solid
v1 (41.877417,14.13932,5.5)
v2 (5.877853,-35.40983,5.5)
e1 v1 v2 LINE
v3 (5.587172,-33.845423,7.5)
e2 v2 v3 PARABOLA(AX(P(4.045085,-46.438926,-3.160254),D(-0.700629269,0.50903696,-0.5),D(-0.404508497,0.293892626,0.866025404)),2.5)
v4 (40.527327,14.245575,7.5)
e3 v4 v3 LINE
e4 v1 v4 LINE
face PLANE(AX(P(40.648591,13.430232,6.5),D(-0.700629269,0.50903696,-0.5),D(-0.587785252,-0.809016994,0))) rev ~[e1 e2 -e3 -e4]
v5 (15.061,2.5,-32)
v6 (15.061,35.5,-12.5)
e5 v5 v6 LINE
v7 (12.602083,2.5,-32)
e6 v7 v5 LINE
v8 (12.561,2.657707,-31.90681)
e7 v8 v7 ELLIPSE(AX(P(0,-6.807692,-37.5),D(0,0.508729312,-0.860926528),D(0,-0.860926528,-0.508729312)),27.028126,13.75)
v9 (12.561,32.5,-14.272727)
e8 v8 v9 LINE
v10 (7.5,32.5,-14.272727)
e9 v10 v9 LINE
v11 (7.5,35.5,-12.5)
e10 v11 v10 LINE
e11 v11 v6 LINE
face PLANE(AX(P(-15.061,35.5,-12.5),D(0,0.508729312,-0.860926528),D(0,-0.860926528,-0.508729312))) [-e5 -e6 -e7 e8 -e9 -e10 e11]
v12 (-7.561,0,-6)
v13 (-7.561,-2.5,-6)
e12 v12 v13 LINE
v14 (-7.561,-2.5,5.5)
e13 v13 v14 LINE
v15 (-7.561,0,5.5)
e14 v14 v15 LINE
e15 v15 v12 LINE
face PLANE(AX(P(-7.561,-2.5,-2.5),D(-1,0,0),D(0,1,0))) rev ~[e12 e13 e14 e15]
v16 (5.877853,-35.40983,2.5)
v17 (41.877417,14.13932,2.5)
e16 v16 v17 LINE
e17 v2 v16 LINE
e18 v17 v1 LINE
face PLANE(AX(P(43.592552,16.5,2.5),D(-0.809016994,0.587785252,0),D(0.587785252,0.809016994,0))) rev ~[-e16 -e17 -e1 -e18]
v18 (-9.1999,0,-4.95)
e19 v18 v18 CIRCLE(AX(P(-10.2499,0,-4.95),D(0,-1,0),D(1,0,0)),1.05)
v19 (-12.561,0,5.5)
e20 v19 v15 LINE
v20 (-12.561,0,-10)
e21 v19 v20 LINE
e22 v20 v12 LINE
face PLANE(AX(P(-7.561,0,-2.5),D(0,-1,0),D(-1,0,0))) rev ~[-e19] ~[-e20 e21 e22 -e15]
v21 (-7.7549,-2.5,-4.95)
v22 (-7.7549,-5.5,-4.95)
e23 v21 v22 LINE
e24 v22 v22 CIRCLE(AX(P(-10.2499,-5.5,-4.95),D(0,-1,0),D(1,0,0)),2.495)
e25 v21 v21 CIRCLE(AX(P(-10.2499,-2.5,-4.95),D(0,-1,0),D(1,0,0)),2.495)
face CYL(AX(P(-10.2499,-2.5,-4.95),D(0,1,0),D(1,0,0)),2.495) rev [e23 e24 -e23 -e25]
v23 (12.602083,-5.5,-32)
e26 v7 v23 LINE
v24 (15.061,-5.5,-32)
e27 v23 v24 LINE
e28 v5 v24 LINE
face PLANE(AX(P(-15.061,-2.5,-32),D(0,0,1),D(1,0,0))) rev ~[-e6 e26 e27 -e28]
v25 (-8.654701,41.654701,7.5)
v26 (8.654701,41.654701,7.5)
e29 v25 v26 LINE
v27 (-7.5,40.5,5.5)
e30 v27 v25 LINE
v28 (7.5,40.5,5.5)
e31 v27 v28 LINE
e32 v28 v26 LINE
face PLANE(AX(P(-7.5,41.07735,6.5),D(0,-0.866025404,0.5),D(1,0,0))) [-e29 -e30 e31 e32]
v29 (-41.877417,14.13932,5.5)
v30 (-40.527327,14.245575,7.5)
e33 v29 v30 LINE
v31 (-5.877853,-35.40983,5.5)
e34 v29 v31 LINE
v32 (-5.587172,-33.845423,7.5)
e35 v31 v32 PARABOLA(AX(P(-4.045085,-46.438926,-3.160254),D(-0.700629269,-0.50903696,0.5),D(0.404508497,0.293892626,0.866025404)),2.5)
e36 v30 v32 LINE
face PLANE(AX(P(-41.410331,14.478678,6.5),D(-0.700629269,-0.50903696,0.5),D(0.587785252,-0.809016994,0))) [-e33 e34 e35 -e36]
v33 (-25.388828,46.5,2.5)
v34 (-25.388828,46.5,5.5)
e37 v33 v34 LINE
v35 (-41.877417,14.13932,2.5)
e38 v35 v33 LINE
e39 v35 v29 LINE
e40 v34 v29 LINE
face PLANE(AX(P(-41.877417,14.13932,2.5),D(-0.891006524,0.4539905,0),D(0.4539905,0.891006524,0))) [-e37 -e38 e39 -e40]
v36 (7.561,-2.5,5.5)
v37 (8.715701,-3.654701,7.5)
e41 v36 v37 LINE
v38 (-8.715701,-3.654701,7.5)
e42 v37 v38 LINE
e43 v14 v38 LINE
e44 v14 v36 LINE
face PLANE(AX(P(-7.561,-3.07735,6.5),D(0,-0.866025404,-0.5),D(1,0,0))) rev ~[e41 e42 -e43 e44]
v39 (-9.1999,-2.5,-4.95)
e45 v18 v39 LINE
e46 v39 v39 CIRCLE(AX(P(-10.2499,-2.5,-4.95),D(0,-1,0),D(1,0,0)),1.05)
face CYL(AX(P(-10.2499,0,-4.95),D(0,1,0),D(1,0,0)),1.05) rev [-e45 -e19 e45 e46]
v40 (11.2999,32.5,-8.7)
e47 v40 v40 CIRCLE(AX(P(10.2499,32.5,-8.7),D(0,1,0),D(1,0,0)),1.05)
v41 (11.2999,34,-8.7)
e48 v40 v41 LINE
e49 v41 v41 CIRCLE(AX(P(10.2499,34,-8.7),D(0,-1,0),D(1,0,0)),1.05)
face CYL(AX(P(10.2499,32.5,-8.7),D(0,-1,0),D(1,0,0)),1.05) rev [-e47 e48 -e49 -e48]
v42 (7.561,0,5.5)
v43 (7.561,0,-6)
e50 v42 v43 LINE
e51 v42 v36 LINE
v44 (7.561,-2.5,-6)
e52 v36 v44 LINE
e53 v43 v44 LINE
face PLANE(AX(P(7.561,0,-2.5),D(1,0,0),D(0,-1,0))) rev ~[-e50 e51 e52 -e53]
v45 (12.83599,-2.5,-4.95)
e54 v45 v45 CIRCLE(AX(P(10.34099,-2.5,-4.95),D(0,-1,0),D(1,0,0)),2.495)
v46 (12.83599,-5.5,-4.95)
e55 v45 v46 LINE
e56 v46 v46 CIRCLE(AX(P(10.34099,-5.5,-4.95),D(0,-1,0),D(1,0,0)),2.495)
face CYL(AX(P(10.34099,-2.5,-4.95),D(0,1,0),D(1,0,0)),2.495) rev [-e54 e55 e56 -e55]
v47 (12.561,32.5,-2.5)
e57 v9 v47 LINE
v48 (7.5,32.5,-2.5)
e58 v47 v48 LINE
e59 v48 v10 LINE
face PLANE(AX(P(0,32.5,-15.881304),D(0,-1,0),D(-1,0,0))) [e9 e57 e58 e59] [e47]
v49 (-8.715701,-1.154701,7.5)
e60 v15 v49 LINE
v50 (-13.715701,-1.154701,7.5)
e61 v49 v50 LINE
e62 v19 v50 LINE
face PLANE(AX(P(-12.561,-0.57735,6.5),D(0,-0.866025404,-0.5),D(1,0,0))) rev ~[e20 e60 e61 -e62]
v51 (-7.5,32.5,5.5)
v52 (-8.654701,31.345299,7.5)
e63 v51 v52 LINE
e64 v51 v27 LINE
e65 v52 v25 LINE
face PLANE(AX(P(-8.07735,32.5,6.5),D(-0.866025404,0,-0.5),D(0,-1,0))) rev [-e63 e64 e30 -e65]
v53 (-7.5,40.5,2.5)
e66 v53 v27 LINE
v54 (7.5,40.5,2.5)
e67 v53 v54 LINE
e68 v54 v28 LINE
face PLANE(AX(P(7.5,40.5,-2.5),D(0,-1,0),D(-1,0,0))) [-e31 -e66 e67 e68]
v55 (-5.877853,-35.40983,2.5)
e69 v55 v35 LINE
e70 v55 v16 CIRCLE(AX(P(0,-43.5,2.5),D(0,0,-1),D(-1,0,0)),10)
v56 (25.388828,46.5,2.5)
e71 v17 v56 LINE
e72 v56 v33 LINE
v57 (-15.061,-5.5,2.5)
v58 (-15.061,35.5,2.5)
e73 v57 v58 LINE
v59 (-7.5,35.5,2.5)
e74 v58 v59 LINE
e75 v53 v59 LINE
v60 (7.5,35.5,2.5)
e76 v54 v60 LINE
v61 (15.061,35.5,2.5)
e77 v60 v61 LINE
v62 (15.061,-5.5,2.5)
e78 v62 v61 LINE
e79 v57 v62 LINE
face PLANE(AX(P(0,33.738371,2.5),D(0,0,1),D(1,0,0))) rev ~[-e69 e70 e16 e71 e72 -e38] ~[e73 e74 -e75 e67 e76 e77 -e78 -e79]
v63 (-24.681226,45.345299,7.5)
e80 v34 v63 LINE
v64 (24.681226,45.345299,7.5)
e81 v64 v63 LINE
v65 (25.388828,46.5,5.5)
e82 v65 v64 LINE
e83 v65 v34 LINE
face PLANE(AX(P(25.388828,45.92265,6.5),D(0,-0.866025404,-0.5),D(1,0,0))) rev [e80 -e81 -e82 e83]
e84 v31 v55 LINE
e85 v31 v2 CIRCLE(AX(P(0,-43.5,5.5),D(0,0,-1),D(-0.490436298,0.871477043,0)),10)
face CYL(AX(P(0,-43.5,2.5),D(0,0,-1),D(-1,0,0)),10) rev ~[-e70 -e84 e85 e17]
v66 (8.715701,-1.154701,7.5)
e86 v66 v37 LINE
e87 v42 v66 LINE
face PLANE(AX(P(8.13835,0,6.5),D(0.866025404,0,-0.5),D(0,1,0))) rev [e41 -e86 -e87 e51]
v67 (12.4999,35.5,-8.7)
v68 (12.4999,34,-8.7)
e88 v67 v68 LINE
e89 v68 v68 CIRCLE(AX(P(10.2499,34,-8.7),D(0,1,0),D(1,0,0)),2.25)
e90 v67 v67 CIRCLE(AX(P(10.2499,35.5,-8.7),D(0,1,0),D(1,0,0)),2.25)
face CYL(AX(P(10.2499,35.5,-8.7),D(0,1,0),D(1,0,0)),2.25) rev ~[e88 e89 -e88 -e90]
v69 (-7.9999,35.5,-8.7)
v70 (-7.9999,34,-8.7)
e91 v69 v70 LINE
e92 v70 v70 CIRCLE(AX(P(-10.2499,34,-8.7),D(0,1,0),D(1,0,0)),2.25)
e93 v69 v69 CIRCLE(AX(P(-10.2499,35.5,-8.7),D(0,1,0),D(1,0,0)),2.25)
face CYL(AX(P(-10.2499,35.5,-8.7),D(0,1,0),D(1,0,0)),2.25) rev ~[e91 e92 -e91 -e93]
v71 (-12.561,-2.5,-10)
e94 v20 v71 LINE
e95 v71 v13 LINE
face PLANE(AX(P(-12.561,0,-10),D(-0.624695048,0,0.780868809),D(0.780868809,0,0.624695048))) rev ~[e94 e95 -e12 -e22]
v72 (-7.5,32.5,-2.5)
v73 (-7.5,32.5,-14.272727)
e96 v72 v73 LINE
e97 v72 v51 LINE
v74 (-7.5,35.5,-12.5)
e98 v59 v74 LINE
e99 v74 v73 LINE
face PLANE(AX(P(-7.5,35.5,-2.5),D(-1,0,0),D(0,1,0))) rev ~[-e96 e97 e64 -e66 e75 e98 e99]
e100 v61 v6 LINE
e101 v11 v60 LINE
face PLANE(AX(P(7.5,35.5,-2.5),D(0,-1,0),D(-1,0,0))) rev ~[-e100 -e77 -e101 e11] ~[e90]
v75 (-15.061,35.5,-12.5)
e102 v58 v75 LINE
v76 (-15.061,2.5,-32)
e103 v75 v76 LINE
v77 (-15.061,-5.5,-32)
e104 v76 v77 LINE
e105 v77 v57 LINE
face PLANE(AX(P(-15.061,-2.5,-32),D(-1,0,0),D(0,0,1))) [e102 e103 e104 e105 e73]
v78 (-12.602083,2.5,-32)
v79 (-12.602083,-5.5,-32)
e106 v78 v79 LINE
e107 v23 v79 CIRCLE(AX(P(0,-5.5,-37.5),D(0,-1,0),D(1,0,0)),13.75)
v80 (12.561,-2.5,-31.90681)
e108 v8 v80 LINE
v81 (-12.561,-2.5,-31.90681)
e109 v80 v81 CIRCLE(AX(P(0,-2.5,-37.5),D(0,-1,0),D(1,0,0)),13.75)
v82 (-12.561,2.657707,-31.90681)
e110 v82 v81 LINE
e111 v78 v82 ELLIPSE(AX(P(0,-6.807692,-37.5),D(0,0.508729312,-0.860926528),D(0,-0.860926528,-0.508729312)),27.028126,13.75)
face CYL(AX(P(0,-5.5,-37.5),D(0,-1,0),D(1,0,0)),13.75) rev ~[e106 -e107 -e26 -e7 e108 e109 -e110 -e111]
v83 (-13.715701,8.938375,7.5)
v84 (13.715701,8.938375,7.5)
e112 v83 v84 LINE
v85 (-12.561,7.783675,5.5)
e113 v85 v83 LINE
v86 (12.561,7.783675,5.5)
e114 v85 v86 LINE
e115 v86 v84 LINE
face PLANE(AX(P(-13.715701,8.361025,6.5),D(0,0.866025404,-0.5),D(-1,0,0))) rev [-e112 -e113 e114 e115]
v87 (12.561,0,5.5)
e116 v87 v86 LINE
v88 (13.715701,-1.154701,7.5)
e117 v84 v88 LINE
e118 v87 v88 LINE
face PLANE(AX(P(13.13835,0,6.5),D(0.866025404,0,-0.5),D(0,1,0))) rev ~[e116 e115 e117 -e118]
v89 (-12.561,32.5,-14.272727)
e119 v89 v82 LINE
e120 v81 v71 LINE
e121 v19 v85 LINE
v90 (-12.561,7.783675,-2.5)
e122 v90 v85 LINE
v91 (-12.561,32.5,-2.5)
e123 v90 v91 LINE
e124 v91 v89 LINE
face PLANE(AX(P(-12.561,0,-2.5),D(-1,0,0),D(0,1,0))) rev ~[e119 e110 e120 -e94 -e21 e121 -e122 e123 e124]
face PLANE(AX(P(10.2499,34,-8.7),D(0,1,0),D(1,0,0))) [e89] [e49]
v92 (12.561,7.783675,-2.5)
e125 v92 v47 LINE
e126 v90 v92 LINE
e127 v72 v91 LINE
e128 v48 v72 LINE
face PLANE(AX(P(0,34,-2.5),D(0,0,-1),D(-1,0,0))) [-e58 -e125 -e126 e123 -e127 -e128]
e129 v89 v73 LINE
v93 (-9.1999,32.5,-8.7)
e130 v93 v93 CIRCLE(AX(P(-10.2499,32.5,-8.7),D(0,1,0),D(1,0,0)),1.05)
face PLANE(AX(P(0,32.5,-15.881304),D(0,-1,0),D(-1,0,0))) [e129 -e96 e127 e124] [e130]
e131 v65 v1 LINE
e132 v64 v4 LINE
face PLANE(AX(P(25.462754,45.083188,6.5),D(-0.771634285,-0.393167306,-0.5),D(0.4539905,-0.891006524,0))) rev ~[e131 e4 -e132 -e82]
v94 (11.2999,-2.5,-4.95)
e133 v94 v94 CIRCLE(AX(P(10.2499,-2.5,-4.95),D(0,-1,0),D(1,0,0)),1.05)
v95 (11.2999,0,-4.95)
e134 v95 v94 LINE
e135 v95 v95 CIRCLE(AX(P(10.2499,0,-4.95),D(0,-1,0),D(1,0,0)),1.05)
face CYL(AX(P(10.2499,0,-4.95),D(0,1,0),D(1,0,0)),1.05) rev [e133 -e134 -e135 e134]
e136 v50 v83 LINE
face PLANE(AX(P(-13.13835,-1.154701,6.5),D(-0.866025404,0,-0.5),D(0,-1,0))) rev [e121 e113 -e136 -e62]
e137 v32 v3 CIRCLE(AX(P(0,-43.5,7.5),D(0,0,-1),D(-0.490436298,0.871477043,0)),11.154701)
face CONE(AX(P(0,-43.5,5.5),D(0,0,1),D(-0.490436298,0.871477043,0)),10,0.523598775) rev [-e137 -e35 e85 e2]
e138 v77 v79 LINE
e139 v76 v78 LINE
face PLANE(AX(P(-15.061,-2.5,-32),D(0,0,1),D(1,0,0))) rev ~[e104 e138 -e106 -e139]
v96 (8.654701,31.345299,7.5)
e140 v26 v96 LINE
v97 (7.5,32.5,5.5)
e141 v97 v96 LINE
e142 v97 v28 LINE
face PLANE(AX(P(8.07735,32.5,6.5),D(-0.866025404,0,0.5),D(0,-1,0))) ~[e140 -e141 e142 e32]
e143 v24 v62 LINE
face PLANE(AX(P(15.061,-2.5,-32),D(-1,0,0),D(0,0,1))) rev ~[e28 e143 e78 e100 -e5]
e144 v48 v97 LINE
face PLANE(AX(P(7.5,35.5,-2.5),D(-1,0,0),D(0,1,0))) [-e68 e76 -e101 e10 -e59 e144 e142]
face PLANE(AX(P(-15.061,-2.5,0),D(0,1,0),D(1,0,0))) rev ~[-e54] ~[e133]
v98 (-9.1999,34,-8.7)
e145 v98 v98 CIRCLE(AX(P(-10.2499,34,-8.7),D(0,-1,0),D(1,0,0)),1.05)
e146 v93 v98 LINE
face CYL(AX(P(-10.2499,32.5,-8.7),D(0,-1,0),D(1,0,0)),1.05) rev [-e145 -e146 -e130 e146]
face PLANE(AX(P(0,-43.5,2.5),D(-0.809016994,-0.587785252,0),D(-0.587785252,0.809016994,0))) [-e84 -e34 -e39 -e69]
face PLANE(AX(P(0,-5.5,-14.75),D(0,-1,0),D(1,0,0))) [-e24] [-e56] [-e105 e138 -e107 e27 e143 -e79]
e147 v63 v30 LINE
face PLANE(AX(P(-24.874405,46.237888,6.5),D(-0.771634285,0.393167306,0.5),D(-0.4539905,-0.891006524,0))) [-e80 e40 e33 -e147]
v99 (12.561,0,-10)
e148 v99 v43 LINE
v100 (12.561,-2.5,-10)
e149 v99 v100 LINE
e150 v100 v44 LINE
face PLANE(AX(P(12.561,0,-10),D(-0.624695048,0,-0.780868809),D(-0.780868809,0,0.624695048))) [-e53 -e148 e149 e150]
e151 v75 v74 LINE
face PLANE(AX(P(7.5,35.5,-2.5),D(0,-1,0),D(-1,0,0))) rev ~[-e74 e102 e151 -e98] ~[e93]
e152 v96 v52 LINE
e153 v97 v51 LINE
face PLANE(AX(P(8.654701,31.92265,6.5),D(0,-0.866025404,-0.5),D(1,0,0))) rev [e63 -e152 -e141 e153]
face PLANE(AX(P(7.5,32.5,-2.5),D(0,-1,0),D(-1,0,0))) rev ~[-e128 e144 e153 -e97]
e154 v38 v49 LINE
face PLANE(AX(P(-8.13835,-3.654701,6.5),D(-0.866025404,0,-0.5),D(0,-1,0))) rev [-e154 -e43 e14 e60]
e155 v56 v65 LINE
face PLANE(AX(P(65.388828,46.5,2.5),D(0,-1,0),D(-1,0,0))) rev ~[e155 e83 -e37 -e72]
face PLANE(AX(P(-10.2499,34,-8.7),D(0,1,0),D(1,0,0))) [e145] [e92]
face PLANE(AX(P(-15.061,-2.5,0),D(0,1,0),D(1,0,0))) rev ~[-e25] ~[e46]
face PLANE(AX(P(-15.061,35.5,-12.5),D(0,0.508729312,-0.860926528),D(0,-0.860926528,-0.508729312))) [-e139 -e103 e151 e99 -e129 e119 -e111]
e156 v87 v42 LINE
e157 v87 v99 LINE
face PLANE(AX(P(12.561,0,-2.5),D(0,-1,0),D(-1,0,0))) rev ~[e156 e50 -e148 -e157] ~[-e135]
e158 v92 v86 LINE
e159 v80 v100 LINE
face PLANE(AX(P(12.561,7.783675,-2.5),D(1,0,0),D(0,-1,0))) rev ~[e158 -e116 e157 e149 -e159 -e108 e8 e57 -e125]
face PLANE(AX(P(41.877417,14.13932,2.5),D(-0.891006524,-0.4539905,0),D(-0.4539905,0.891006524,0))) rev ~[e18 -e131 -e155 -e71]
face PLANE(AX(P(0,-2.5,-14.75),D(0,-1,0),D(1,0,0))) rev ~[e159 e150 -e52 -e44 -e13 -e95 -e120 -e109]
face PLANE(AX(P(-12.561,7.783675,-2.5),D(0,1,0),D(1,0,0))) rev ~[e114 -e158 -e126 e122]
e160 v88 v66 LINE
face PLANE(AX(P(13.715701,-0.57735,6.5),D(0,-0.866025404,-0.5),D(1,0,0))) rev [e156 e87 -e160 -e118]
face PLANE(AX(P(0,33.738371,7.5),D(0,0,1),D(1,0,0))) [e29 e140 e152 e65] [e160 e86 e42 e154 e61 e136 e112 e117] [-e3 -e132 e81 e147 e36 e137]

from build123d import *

# Parameters (mm, degrees)
BOSS_EXTRUDE1_DEPTH     = 32.5
SKETCH4_R               = 1.05
BOSS_EXTRUDE2_DEPTH     = 2.5
SKETCH5_R               = 1.05
BOSS_EXTRUDE3_DEPTH     = 3
CUT_EXTRUDE1_DEPTH      = 31.122
SKETCH13_W              = 30.122
SKETCH13_H              = 38
BOSS_EXTRUDE7_DEPTH     = 2.5
BOSS_EXTRUDE4_DEPTH     = 5
BOSS_EXTRUDE6_DEPTH     = 5
CUT_EXTRUDE2_DEPTH      = 6
SKETCH14_W              = 15
SKETCH14_H              = 5
CUT_EXTRUDE3_DEPTH      = 11
SKETCH15_W              = 30.122
SKETCH15_H              = 34.5
SKETCH15_R              = 2.495
BOSS_EXTRUDE8_DEPTH     = 3
SKETCH17_R              = 13.75
CUT_EXTRUDE4_DEPTH      = 53
SKETCH19_W              = 15
SKETCH19_H              = 3
CUT_EXTRUDE6_DEPTH      = 30.5
CUT_EXTRUDE6_DEPTH_BACK = 11
SKETCH21_R              = 2.25
CUT_EXTRUDE8_DEPTH      = 1.5
SKETCH20_R              = 10
CUT_EXTRUDE7_DEPTH      = 6
CHAMFER1_SIZE           = 2
CHAMFER1_SIZE2          = 1.154700538
CHAMFER1_PART_2_SIZE    = 2
CHAMFER1_PART_2_SIZE2   = 1.154700538
CHAMFER1_PART_3_SIZE    = 2
CHAMFER1_PART_3_SIZE2   = 1.154700538
CHAMFER1_PART_4_SIZE    = 2
CHAMFER1_PART_4_SIZE2   = 1.154700538
CHAMFER1_PART_5_SIZE    = 2
CHAMFER1_PART_5_SIZE2   = 1.154700538
CHAMFER1_PART_6_SIZE    = 2
CHAMFER1_PART_6_SIZE2   = 1.154700538
CHAMFER1_PART_7_SIZE    = 2
CHAMFER1_PART_7_SIZE2   = 1.154700538
CHAMFER1_PART_8_SIZE    = 2
CHAMFER1_PART_8_SIZE2   = 1.154700538
CHAMFER1_PART_9_SIZE    = 2
CHAMFER1_PART_9_SIZE2   = 1.154700538
CHAMFER1_PART_10_SIZE   = 2
CHAMFER1_PART_10_SIZE2  = 1.154700538
CHAMFER1_PART_11_SIZE   = 2
CHAMFER1_PART_11_SIZE2  = 1.154700538
CHAMFER1_PART_12_SIZE   = 2
CHAMFER1_PART_12_SIZE2  = 1.154700538
CHAMFER1_PART_13_SIZE   = 2
CHAMFER1_PART_13_SIZE2  = 1.154700538
CHAMFER1_PART_14_SIZE   = 2
CHAMFER1_PART_14_SIZE2  = 1.154700538
CHAMFER1_PART_15_SIZE   = 2
CHAMFER1_PART_15_SIZE2  = 1.154700538
CHAMFER1_PART_16_SIZE   = 2
CHAMFER1_PART_16_SIZE2  = 1.154700538
CHAMFER1_PART_17_SIZE   = 2
CHAMFER1_PART_17_SIZE2  = 1.154700538
CHAMFER1_PART_18_SIZE   = 2
CHAMFER1_PART_18_SIZE2  = 1.154700538


with BuildPart() as part:
    # Sketch2 → Boss-Extrude1 (new body)
    with BuildSketch(Plane(origin=(0, 0, 0), x_dir=(1, 0, 0), z_dir=(0, 1, 0))):
        Polygon((15.061, 0), (15.061, 32), (12.561, 32), (12.561, 2.5), (-12.561, 2.5), (-12.561, 32), (-15.061, 32), (-15.061, 0), align=None)
    extrude(amount=BOSS_EXTRUDE1_DEPTH)

    # Sketch4 → Boss-Extrude2 (add)
    with BuildSketch(Plane.XZ):
        Polygon((-7.561, -6), (-7.561, 0), (-15.061, 0), (-15.061, -32), (-12.561, -32), (-12.561, -10), align=None)
        with Locations((-10.2499, -4.95)):
            Circle(SKETCH4_R, mode=Mode.SUBTRACT)
        Polygon((12.561, -10), (7.561, -6), (7.561, 0), (15.061, 0), (15.061, -32), (12.561, -32), align=None)
        with Locations((10.2499, -4.95)):
            Circle(SKETCH4_R, mode=Mode.SUBTRACT)
    extrude(amount=BOSS_EXTRUDE2_DEPTH)

    # Sketch5 → Boss-Extrude3 (add)
    with BuildSketch(Plane(origin=(0, 32.5, 0), x_dir=(1, 0, 0), z_dir=(0, 1, 0))):
        Polygon((-15.061, 32), (-10.2499, 32), (-6.25, 26), (6.25, 26), (10.2499, 32), (15.061, 32), (15.061, 0), (-15.061, 0), align=None)
        with Locations((-10.2499, 8.7)):
            Circle(SKETCH5_R, mode=Mode.SUBTRACT)
        with Locations((10.2499, 8.7)):
            Circle(SKETCH5_R, mode=Mode.SUBTRACT)
    extrude(amount=BOSS_EXTRUDE3_DEPTH)

    # Sketch6 → Cut-Extrude1 (cut, through all)
    with BuildSketch(Plane.ZY.offset(15.061)):
        Polygon((-12.5, 35.5), (-32, 2.5), (-32, 35.5), align=None)
    extrude(amount=-CUT_EXTRUDE1_DEPTH, mode=Mode.SUBTRACT)

    # Sketch13 → Boss-Extrude7 (add)
    with BuildSketch(Plane.XY):
        with Locations((0, 16.5)):
            Rectangle(SKETCH13_W, SKETCH13_H)
    extrude(amount=BOSS_EXTRUDE7_DEPTH)

    # Sketch8 → Boss-Extrude4 (add)
    with BuildSketch(Plane.XY.offset(2.5)):
        Polygon((0, -43.5), (-43.59255168, 16.5), (43.59255168, 16.5), align=None)
    extrude(amount=BOSS_EXTRUDE4_DEPTH)

    # Sketch9 → Boss-Extrude6 (add)
    with BuildSketch(Plane.XY.offset(2.5)):
        Polygon((43.59255168, 16.5), (65.38882752, 46.5), (-65.38882752, 46.5), (-43.59255168, 16.5), align=None)
    extrude(amount=BOSS_EXTRUDE6_DEPTH)

    # Sketch10 → Cut-Extrude2 (cut, through all)
    with BuildSketch(Plane(origin=(0, 0, 2.5), x_dir=(-1, 0, 0), z_dir=(0, 0, -1))):
        Polygon((-25.38882752, 46.5), (-65.38882752, 46.5), (-41.877417429, 14.139320225), align=None)
        Polygon((65.38882752, 46.5), (41.877417429, 14.139320225), (25.38882752, 46.5), align=None)
    extrude(amount=-CUT_EXTRUDE2_DEPTH, mode=Mode.SUBTRACT)

    # Sketch14 → Cut-Extrude3 (cut, through all)
    with BuildSketch(Plane(origin=(0, 0, -2.5), x_dir=(-1, 0, 0), z_dir=(0, 0, -1))):
        Polygon((-7.561, -2.5), (7.561, -2.5), (7.561, 0), (12.561, 0), (12.561, 7.783674653), (-12.561, 7.783674653), (-12.561, 0), (-7.561, 0), align=None)
        with Locations((0, 38)):
            Rectangle(SKETCH14_W, SKETCH14_H)
    extrude(amount=-CUT_EXTRUDE3_DEPTH, mode=Mode.SUBTRACT)

    # Sketch15 → Boss-Extrude8 (add)
    with BuildSketch(Plane.XZ.offset(2.5)):
        with Locations((0, -14.75)):
            Rectangle(SKETCH15_W, SKETCH15_H)
        with Locations((-10.2499, -4.95)):
            Circle(SKETCH15_R, mode=Mode.SUBTRACT)
        with Locations((10.340989886, -4.95)):
            Circle(SKETCH15_R, mode=Mode.SUBTRACT)
    extrude(amount=BOSS_EXTRUDE8_DEPTH)

    # Sketch17 → Cut-Extrude4 (cut, through all)
    with BuildSketch(Plane.XZ.offset(5.5)):
        with Locations((0, -37.5)):
            Circle(SKETCH17_R)
    extrude(amount=-CUT_EXTRUDE4_DEPTH, mode=Mode.SUBTRACT)

    # Sketch19 → Cut-Extrude6 (cut, two sides)
    with BuildSketch(Plane(origin=(0, 0, -2.5), x_dir=(-1, 0, 0), z_dir=(0, 0, -1))) as cut_extrude6_sk:
        with Locations((0, 34)):
            Rectangle(SKETCH19_W, SKETCH19_H)
    extrude(amount=CUT_EXTRUDE6_DEPTH, mode=Mode.SUBTRACT)
    extrude(cut_extrude6_sk.sketch, amount=-CUT_EXTRUDE6_DEPTH_BACK, mode=Mode.SUBTRACT)

    # Sketch21 → Cut-Extrude8 (cut)
    with BuildSketch(Plane(origin=(0, 35.5, 0), x_dir=(1, 0, 0), z_dir=(0, 1, 0))):
        with Locations((-10.2499, 8.7)):
            Circle(SKETCH21_R)
        with Locations((10.2499, 8.7)):
            Circle(SKETCH21_R)
    extrude(amount=-CUT_EXTRUDE8_DEPTH, mode=Mode.SUBTRACT)

    # Sketch20 → Cut-Extrude7 (cut, through all)
    with BuildSketch(Plane(origin=(0, 0, 2.5), x_dir=(-1, 0, 0), z_dir=(0, 0, -1))):
        with Locations((0, -43.5)):
            Circle(SKETCH20_R)
    extrude(amount=-CUT_EXTRUDE7_DEPTH, mode=Mode.SUBTRACT)

    # Chamfer1
    chamfer1_edges = [part.edges().sort_by_distance(p)[0] for p in [
        (-23.877634976, -10.635254916, 7.5),
    ]]
    chamfer1_side = [part.faces().sort_by_distance(p)[0] for p in [
        (-23.877634976, -10.635254916, 5),
    ]]
    chamfer(chamfer1_edges, length=CHAMFER1_SIZE, length2=CHAMFER1_SIZE2, reference=chamfer1_side[0])

    # Chamfer1 part 2
    chamfer1_part_2_edges = [part.edges().sort_by_distance(p)[0] for p in [
        (-33.633122475, 30.319660113, 7.5),
    ]]
    chamfer1_part_2_side = [part.faces().sort_by_distance(p)[0] for p in [
        (-33.633122475, 30.319660113, 5),
    ]]
    chamfer(chamfer1_part_2_edges, length=CHAMFER1_PART_2_SIZE, length2=CHAMFER1_PART_2_SIZE2, reference=chamfer1_part_2_side[0])

    # Chamfer1 part 3
    chamfer1_part_3_edges = [part.edges().sort_by_distance(p)[0] for p in [
        (0, 46.5, 7.5),
    ]]
    chamfer1_part_3_side = [part.faces().sort_by_distance(p)[0] for p in [
        (0, 46.5, 5),
    ]]
    chamfer(chamfer1_part_3_edges, length=CHAMFER1_PART_3_SIZE, length2=CHAMFER1_PART_3_SIZE2, reference=chamfer1_part_3_side[0])

    # Chamfer1 part 4
    chamfer1_part_4_edges = [part.edges().sort_by_distance(p)[0] for p in [
        (33.633122475, 30.319660113, 7.5),
    ]]
    chamfer1_part_4_side = [part.faces().sort_by_distance(p)[0] for p in [
        (33.633122475, 30.319660113, 5),
    ]]
    chamfer(chamfer1_part_4_edges, length=CHAMFER1_PART_4_SIZE, length2=CHAMFER1_PART_4_SIZE2, reference=chamfer1_part_4_side[0])

    # Chamfer1 part 5
    chamfer1_part_5_edges = [part.edges().sort_by_distance(p)[0] for p in [
        (23.877634976, -10.635254916, 7.5),
    ]]
    chamfer1_part_5_side = [part.faces().sort_by_distance(p)[0] for p in [
        (23.877634976, -10.635254916, 5),
    ]]
    chamfer(chamfer1_part_5_edges, length=CHAMFER1_PART_5_SIZE, length2=CHAMFER1_PART_5_SIZE2, reference=chamfer1_part_5_side[0])

    # Chamfer1 part 6
    chamfer1_part_6_edges = [part.edges().sort_by_distance(p)[0] for p in [
        (0, -33.5, 7.5),
    ]]
    chamfer1_part_6_side = [part.faces().sort_by_distance(p)[0] for p in [
        (0, -33.5, 5),
    ]]
    chamfer(chamfer1_part_6_edges, length=CHAMFER1_PART_6_SIZE, length2=CHAMFER1_PART_6_SIZE2, reference=chamfer1_part_6_side[0])

    # Chamfer1 part 7
    chamfer1_part_7_edges = [part.edges().sort_by_distance(p)[0] for p in [
        (7.5, 36.5, 7.5),
    ]]
    chamfer1_part_7_side = [part.faces().sort_by_distance(p)[0] for p in [
        (7.5, 35.125615764, -0.682301365),
    ]]
    chamfer(chamfer1_part_7_edges, length=CHAMFER1_PART_7_SIZE, length2=CHAMFER1_PART_7_SIZE2, reference=chamfer1_part_7_side[0])

    # Chamfer1 part 8
    chamfer1_part_8_edges = [part.edges().sort_by_distance(p)[0] for p in [
        (0, 40.5, 7.5),
    ]]
    chamfer1_part_8_side = [part.faces().sort_by_distance(p)[0] for p in [
        (0, 40.5, 5),
    ]]
    chamfer(chamfer1_part_8_edges, length=CHAMFER1_PART_8_SIZE, length2=CHAMFER1_PART_8_SIZE2, reference=chamfer1_part_8_side[0])

    # Chamfer1 part 9
    chamfer1_part_9_edges = [part.edges().sort_by_distance(p)[0] for p in [
        (-7.5, 36.5, 7.5),
    ]]
    chamfer1_part_9_side = [part.faces().sort_by_distance(p)[0] for p in [
        (-7.5, 35.125615764, -0.682301365),
    ]]
    chamfer(chamfer1_part_9_edges, length=CHAMFER1_PART_9_SIZE, length2=CHAMFER1_PART_9_SIZE2, reference=chamfer1_part_9_side[0])

    # Chamfer1 part 10
    chamfer1_part_10_edges = [part.edges().sort_by_distance(p)[0] for p in [
        (12.561, 3.891837327, 7.5),
    ]]
    chamfer1_part_10_side = [part.faces().sort_by_distance(p)[0] for p in [
        (12.561, 11.913281954, -12.779758376),
    ]]
    chamfer(chamfer1_part_10_edges, length=CHAMFER1_PART_10_SIZE, length2=CHAMFER1_PART_10_SIZE2, reference=chamfer1_part_10_side[0])

    # Chamfer1 part 11
    chamfer1_part_11_edges = [part.edges().sort_by_distance(p)[0] for p in [
        (0, -2.5, 7.5),
    ]]
    chamfer1_part_11_side = [part.faces().sort_by_distance(p)[0] for p in [
        (0, -2.5, -11.382409491),
    ]]
    chamfer(chamfer1_part_11_edges, length=CHAMFER1_PART_11_SIZE, length2=CHAMFER1_PART_11_SIZE2, reference=chamfer1_part_11_side[0])

    # Chamfer1 part 12
    chamfer1_part_12_edges = [part.edges().sort_by_distance(p)[0] for p in [
        (-7.561, -1.25, 7.5),
    ]]
    chamfer1_part_12_side = [part.faces().sort_by_distance(p)[0] for p in [
        (-7.561, -1.25, 0.75),
    ]]
    chamfer(chamfer1_part_12_edges, length=CHAMFER1_PART_12_SIZE, length2=CHAMFER1_PART_12_SIZE2, reference=chamfer1_part_12_side[0])

    # Chamfer1 part 13
    chamfer1_part_13_edges = [part.edges().sort_by_distance(p)[0] for p in [
        (7.561, -1.25, 7.5),
    ]]
    chamfer1_part_13_side = [part.faces().sort_by_distance(p)[0] for p in [
        (7.561, -1.25, 0.75),
    ]]
    chamfer(chamfer1_part_13_edges, length=CHAMFER1_PART_13_SIZE, length2=CHAMFER1_PART_13_SIZE2, reference=chamfer1_part_13_side[0])

    # Chamfer1 part 14
    chamfer1_part_14_edges = [part.edges().sort_by_distance(p)[0] for p in [
        (-10.061, 0, 7.5),
    ]]
    chamfer1_part_14_side = [part.faces().sort_by_distance(p)[0] for p in [
        (-10.164720046, 0, -0.075145261),
    ]]
    chamfer(chamfer1_part_14_edges, length=CHAMFER1_PART_14_SIZE, length2=CHAMFER1_PART_14_SIZE2, reference=chamfer1_part_14_side[0])

    # Chamfer1 part 15
    chamfer1_part_15_edges = [part.edges().sort_by_distance(p)[0] for p in [
        (10.061, 0, 7.5),
    ]]
    chamfer1_part_15_side = [part.faces().sort_by_distance(p)[0] for p in [
        (10.164720046, 0, -0.075145261),
    ]]
    chamfer(chamfer1_part_15_edges, length=CHAMFER1_PART_15_SIZE, length2=CHAMFER1_PART_15_SIZE2, reference=chamfer1_part_15_side[0])

    # Chamfer1 part 16
    chamfer1_part_16_edges = [part.edges().sort_by_distance(p)[0] for p in [
        (-12.561, 3.891837327, 7.5),
    ]]
    chamfer1_part_16_side = [part.faces().sort_by_distance(p)[0] for p in [
        (-12.561, 11.913281954, -12.779758376),
    ]]
    chamfer(chamfer1_part_16_edges, length=CHAMFER1_PART_16_SIZE, length2=CHAMFER1_PART_16_SIZE2, reference=chamfer1_part_16_side[0])

    # Chamfer1 part 17
    chamfer1_part_17_edges = [part.edges().sort_by_distance(p)[0] for p in [
        (0, 7.783674653, 7.5),
    ]]
    chamfer1_part_17_side = [part.faces().sort_by_distance(p)[0] for p in [
        (0, 7.783674653, 2.5),
    ]]
    chamfer(chamfer1_part_17_edges, length=CHAMFER1_PART_17_SIZE, length2=CHAMFER1_PART_17_SIZE2, reference=chamfer1_part_17_side[0])

    # Chamfer1 part 18
    chamfer1_part_18_edges = [part.edges().sort_by_distance(p)[0] for p in [
        (0, 32.5, 7.5),
    ]]
    chamfer1_part_18_side = [part.faces().sort_by_distance(p)[0] for p in [
        (0, 32.5, 2.5),
    ]]
    chamfer(chamfer1_part_18_edges, length=CHAMFER1_PART_18_SIZE, length2=CHAMFER1_PART_18_SIZE2, reference=chamfer1_part_18_side[0])


solid = part.part
